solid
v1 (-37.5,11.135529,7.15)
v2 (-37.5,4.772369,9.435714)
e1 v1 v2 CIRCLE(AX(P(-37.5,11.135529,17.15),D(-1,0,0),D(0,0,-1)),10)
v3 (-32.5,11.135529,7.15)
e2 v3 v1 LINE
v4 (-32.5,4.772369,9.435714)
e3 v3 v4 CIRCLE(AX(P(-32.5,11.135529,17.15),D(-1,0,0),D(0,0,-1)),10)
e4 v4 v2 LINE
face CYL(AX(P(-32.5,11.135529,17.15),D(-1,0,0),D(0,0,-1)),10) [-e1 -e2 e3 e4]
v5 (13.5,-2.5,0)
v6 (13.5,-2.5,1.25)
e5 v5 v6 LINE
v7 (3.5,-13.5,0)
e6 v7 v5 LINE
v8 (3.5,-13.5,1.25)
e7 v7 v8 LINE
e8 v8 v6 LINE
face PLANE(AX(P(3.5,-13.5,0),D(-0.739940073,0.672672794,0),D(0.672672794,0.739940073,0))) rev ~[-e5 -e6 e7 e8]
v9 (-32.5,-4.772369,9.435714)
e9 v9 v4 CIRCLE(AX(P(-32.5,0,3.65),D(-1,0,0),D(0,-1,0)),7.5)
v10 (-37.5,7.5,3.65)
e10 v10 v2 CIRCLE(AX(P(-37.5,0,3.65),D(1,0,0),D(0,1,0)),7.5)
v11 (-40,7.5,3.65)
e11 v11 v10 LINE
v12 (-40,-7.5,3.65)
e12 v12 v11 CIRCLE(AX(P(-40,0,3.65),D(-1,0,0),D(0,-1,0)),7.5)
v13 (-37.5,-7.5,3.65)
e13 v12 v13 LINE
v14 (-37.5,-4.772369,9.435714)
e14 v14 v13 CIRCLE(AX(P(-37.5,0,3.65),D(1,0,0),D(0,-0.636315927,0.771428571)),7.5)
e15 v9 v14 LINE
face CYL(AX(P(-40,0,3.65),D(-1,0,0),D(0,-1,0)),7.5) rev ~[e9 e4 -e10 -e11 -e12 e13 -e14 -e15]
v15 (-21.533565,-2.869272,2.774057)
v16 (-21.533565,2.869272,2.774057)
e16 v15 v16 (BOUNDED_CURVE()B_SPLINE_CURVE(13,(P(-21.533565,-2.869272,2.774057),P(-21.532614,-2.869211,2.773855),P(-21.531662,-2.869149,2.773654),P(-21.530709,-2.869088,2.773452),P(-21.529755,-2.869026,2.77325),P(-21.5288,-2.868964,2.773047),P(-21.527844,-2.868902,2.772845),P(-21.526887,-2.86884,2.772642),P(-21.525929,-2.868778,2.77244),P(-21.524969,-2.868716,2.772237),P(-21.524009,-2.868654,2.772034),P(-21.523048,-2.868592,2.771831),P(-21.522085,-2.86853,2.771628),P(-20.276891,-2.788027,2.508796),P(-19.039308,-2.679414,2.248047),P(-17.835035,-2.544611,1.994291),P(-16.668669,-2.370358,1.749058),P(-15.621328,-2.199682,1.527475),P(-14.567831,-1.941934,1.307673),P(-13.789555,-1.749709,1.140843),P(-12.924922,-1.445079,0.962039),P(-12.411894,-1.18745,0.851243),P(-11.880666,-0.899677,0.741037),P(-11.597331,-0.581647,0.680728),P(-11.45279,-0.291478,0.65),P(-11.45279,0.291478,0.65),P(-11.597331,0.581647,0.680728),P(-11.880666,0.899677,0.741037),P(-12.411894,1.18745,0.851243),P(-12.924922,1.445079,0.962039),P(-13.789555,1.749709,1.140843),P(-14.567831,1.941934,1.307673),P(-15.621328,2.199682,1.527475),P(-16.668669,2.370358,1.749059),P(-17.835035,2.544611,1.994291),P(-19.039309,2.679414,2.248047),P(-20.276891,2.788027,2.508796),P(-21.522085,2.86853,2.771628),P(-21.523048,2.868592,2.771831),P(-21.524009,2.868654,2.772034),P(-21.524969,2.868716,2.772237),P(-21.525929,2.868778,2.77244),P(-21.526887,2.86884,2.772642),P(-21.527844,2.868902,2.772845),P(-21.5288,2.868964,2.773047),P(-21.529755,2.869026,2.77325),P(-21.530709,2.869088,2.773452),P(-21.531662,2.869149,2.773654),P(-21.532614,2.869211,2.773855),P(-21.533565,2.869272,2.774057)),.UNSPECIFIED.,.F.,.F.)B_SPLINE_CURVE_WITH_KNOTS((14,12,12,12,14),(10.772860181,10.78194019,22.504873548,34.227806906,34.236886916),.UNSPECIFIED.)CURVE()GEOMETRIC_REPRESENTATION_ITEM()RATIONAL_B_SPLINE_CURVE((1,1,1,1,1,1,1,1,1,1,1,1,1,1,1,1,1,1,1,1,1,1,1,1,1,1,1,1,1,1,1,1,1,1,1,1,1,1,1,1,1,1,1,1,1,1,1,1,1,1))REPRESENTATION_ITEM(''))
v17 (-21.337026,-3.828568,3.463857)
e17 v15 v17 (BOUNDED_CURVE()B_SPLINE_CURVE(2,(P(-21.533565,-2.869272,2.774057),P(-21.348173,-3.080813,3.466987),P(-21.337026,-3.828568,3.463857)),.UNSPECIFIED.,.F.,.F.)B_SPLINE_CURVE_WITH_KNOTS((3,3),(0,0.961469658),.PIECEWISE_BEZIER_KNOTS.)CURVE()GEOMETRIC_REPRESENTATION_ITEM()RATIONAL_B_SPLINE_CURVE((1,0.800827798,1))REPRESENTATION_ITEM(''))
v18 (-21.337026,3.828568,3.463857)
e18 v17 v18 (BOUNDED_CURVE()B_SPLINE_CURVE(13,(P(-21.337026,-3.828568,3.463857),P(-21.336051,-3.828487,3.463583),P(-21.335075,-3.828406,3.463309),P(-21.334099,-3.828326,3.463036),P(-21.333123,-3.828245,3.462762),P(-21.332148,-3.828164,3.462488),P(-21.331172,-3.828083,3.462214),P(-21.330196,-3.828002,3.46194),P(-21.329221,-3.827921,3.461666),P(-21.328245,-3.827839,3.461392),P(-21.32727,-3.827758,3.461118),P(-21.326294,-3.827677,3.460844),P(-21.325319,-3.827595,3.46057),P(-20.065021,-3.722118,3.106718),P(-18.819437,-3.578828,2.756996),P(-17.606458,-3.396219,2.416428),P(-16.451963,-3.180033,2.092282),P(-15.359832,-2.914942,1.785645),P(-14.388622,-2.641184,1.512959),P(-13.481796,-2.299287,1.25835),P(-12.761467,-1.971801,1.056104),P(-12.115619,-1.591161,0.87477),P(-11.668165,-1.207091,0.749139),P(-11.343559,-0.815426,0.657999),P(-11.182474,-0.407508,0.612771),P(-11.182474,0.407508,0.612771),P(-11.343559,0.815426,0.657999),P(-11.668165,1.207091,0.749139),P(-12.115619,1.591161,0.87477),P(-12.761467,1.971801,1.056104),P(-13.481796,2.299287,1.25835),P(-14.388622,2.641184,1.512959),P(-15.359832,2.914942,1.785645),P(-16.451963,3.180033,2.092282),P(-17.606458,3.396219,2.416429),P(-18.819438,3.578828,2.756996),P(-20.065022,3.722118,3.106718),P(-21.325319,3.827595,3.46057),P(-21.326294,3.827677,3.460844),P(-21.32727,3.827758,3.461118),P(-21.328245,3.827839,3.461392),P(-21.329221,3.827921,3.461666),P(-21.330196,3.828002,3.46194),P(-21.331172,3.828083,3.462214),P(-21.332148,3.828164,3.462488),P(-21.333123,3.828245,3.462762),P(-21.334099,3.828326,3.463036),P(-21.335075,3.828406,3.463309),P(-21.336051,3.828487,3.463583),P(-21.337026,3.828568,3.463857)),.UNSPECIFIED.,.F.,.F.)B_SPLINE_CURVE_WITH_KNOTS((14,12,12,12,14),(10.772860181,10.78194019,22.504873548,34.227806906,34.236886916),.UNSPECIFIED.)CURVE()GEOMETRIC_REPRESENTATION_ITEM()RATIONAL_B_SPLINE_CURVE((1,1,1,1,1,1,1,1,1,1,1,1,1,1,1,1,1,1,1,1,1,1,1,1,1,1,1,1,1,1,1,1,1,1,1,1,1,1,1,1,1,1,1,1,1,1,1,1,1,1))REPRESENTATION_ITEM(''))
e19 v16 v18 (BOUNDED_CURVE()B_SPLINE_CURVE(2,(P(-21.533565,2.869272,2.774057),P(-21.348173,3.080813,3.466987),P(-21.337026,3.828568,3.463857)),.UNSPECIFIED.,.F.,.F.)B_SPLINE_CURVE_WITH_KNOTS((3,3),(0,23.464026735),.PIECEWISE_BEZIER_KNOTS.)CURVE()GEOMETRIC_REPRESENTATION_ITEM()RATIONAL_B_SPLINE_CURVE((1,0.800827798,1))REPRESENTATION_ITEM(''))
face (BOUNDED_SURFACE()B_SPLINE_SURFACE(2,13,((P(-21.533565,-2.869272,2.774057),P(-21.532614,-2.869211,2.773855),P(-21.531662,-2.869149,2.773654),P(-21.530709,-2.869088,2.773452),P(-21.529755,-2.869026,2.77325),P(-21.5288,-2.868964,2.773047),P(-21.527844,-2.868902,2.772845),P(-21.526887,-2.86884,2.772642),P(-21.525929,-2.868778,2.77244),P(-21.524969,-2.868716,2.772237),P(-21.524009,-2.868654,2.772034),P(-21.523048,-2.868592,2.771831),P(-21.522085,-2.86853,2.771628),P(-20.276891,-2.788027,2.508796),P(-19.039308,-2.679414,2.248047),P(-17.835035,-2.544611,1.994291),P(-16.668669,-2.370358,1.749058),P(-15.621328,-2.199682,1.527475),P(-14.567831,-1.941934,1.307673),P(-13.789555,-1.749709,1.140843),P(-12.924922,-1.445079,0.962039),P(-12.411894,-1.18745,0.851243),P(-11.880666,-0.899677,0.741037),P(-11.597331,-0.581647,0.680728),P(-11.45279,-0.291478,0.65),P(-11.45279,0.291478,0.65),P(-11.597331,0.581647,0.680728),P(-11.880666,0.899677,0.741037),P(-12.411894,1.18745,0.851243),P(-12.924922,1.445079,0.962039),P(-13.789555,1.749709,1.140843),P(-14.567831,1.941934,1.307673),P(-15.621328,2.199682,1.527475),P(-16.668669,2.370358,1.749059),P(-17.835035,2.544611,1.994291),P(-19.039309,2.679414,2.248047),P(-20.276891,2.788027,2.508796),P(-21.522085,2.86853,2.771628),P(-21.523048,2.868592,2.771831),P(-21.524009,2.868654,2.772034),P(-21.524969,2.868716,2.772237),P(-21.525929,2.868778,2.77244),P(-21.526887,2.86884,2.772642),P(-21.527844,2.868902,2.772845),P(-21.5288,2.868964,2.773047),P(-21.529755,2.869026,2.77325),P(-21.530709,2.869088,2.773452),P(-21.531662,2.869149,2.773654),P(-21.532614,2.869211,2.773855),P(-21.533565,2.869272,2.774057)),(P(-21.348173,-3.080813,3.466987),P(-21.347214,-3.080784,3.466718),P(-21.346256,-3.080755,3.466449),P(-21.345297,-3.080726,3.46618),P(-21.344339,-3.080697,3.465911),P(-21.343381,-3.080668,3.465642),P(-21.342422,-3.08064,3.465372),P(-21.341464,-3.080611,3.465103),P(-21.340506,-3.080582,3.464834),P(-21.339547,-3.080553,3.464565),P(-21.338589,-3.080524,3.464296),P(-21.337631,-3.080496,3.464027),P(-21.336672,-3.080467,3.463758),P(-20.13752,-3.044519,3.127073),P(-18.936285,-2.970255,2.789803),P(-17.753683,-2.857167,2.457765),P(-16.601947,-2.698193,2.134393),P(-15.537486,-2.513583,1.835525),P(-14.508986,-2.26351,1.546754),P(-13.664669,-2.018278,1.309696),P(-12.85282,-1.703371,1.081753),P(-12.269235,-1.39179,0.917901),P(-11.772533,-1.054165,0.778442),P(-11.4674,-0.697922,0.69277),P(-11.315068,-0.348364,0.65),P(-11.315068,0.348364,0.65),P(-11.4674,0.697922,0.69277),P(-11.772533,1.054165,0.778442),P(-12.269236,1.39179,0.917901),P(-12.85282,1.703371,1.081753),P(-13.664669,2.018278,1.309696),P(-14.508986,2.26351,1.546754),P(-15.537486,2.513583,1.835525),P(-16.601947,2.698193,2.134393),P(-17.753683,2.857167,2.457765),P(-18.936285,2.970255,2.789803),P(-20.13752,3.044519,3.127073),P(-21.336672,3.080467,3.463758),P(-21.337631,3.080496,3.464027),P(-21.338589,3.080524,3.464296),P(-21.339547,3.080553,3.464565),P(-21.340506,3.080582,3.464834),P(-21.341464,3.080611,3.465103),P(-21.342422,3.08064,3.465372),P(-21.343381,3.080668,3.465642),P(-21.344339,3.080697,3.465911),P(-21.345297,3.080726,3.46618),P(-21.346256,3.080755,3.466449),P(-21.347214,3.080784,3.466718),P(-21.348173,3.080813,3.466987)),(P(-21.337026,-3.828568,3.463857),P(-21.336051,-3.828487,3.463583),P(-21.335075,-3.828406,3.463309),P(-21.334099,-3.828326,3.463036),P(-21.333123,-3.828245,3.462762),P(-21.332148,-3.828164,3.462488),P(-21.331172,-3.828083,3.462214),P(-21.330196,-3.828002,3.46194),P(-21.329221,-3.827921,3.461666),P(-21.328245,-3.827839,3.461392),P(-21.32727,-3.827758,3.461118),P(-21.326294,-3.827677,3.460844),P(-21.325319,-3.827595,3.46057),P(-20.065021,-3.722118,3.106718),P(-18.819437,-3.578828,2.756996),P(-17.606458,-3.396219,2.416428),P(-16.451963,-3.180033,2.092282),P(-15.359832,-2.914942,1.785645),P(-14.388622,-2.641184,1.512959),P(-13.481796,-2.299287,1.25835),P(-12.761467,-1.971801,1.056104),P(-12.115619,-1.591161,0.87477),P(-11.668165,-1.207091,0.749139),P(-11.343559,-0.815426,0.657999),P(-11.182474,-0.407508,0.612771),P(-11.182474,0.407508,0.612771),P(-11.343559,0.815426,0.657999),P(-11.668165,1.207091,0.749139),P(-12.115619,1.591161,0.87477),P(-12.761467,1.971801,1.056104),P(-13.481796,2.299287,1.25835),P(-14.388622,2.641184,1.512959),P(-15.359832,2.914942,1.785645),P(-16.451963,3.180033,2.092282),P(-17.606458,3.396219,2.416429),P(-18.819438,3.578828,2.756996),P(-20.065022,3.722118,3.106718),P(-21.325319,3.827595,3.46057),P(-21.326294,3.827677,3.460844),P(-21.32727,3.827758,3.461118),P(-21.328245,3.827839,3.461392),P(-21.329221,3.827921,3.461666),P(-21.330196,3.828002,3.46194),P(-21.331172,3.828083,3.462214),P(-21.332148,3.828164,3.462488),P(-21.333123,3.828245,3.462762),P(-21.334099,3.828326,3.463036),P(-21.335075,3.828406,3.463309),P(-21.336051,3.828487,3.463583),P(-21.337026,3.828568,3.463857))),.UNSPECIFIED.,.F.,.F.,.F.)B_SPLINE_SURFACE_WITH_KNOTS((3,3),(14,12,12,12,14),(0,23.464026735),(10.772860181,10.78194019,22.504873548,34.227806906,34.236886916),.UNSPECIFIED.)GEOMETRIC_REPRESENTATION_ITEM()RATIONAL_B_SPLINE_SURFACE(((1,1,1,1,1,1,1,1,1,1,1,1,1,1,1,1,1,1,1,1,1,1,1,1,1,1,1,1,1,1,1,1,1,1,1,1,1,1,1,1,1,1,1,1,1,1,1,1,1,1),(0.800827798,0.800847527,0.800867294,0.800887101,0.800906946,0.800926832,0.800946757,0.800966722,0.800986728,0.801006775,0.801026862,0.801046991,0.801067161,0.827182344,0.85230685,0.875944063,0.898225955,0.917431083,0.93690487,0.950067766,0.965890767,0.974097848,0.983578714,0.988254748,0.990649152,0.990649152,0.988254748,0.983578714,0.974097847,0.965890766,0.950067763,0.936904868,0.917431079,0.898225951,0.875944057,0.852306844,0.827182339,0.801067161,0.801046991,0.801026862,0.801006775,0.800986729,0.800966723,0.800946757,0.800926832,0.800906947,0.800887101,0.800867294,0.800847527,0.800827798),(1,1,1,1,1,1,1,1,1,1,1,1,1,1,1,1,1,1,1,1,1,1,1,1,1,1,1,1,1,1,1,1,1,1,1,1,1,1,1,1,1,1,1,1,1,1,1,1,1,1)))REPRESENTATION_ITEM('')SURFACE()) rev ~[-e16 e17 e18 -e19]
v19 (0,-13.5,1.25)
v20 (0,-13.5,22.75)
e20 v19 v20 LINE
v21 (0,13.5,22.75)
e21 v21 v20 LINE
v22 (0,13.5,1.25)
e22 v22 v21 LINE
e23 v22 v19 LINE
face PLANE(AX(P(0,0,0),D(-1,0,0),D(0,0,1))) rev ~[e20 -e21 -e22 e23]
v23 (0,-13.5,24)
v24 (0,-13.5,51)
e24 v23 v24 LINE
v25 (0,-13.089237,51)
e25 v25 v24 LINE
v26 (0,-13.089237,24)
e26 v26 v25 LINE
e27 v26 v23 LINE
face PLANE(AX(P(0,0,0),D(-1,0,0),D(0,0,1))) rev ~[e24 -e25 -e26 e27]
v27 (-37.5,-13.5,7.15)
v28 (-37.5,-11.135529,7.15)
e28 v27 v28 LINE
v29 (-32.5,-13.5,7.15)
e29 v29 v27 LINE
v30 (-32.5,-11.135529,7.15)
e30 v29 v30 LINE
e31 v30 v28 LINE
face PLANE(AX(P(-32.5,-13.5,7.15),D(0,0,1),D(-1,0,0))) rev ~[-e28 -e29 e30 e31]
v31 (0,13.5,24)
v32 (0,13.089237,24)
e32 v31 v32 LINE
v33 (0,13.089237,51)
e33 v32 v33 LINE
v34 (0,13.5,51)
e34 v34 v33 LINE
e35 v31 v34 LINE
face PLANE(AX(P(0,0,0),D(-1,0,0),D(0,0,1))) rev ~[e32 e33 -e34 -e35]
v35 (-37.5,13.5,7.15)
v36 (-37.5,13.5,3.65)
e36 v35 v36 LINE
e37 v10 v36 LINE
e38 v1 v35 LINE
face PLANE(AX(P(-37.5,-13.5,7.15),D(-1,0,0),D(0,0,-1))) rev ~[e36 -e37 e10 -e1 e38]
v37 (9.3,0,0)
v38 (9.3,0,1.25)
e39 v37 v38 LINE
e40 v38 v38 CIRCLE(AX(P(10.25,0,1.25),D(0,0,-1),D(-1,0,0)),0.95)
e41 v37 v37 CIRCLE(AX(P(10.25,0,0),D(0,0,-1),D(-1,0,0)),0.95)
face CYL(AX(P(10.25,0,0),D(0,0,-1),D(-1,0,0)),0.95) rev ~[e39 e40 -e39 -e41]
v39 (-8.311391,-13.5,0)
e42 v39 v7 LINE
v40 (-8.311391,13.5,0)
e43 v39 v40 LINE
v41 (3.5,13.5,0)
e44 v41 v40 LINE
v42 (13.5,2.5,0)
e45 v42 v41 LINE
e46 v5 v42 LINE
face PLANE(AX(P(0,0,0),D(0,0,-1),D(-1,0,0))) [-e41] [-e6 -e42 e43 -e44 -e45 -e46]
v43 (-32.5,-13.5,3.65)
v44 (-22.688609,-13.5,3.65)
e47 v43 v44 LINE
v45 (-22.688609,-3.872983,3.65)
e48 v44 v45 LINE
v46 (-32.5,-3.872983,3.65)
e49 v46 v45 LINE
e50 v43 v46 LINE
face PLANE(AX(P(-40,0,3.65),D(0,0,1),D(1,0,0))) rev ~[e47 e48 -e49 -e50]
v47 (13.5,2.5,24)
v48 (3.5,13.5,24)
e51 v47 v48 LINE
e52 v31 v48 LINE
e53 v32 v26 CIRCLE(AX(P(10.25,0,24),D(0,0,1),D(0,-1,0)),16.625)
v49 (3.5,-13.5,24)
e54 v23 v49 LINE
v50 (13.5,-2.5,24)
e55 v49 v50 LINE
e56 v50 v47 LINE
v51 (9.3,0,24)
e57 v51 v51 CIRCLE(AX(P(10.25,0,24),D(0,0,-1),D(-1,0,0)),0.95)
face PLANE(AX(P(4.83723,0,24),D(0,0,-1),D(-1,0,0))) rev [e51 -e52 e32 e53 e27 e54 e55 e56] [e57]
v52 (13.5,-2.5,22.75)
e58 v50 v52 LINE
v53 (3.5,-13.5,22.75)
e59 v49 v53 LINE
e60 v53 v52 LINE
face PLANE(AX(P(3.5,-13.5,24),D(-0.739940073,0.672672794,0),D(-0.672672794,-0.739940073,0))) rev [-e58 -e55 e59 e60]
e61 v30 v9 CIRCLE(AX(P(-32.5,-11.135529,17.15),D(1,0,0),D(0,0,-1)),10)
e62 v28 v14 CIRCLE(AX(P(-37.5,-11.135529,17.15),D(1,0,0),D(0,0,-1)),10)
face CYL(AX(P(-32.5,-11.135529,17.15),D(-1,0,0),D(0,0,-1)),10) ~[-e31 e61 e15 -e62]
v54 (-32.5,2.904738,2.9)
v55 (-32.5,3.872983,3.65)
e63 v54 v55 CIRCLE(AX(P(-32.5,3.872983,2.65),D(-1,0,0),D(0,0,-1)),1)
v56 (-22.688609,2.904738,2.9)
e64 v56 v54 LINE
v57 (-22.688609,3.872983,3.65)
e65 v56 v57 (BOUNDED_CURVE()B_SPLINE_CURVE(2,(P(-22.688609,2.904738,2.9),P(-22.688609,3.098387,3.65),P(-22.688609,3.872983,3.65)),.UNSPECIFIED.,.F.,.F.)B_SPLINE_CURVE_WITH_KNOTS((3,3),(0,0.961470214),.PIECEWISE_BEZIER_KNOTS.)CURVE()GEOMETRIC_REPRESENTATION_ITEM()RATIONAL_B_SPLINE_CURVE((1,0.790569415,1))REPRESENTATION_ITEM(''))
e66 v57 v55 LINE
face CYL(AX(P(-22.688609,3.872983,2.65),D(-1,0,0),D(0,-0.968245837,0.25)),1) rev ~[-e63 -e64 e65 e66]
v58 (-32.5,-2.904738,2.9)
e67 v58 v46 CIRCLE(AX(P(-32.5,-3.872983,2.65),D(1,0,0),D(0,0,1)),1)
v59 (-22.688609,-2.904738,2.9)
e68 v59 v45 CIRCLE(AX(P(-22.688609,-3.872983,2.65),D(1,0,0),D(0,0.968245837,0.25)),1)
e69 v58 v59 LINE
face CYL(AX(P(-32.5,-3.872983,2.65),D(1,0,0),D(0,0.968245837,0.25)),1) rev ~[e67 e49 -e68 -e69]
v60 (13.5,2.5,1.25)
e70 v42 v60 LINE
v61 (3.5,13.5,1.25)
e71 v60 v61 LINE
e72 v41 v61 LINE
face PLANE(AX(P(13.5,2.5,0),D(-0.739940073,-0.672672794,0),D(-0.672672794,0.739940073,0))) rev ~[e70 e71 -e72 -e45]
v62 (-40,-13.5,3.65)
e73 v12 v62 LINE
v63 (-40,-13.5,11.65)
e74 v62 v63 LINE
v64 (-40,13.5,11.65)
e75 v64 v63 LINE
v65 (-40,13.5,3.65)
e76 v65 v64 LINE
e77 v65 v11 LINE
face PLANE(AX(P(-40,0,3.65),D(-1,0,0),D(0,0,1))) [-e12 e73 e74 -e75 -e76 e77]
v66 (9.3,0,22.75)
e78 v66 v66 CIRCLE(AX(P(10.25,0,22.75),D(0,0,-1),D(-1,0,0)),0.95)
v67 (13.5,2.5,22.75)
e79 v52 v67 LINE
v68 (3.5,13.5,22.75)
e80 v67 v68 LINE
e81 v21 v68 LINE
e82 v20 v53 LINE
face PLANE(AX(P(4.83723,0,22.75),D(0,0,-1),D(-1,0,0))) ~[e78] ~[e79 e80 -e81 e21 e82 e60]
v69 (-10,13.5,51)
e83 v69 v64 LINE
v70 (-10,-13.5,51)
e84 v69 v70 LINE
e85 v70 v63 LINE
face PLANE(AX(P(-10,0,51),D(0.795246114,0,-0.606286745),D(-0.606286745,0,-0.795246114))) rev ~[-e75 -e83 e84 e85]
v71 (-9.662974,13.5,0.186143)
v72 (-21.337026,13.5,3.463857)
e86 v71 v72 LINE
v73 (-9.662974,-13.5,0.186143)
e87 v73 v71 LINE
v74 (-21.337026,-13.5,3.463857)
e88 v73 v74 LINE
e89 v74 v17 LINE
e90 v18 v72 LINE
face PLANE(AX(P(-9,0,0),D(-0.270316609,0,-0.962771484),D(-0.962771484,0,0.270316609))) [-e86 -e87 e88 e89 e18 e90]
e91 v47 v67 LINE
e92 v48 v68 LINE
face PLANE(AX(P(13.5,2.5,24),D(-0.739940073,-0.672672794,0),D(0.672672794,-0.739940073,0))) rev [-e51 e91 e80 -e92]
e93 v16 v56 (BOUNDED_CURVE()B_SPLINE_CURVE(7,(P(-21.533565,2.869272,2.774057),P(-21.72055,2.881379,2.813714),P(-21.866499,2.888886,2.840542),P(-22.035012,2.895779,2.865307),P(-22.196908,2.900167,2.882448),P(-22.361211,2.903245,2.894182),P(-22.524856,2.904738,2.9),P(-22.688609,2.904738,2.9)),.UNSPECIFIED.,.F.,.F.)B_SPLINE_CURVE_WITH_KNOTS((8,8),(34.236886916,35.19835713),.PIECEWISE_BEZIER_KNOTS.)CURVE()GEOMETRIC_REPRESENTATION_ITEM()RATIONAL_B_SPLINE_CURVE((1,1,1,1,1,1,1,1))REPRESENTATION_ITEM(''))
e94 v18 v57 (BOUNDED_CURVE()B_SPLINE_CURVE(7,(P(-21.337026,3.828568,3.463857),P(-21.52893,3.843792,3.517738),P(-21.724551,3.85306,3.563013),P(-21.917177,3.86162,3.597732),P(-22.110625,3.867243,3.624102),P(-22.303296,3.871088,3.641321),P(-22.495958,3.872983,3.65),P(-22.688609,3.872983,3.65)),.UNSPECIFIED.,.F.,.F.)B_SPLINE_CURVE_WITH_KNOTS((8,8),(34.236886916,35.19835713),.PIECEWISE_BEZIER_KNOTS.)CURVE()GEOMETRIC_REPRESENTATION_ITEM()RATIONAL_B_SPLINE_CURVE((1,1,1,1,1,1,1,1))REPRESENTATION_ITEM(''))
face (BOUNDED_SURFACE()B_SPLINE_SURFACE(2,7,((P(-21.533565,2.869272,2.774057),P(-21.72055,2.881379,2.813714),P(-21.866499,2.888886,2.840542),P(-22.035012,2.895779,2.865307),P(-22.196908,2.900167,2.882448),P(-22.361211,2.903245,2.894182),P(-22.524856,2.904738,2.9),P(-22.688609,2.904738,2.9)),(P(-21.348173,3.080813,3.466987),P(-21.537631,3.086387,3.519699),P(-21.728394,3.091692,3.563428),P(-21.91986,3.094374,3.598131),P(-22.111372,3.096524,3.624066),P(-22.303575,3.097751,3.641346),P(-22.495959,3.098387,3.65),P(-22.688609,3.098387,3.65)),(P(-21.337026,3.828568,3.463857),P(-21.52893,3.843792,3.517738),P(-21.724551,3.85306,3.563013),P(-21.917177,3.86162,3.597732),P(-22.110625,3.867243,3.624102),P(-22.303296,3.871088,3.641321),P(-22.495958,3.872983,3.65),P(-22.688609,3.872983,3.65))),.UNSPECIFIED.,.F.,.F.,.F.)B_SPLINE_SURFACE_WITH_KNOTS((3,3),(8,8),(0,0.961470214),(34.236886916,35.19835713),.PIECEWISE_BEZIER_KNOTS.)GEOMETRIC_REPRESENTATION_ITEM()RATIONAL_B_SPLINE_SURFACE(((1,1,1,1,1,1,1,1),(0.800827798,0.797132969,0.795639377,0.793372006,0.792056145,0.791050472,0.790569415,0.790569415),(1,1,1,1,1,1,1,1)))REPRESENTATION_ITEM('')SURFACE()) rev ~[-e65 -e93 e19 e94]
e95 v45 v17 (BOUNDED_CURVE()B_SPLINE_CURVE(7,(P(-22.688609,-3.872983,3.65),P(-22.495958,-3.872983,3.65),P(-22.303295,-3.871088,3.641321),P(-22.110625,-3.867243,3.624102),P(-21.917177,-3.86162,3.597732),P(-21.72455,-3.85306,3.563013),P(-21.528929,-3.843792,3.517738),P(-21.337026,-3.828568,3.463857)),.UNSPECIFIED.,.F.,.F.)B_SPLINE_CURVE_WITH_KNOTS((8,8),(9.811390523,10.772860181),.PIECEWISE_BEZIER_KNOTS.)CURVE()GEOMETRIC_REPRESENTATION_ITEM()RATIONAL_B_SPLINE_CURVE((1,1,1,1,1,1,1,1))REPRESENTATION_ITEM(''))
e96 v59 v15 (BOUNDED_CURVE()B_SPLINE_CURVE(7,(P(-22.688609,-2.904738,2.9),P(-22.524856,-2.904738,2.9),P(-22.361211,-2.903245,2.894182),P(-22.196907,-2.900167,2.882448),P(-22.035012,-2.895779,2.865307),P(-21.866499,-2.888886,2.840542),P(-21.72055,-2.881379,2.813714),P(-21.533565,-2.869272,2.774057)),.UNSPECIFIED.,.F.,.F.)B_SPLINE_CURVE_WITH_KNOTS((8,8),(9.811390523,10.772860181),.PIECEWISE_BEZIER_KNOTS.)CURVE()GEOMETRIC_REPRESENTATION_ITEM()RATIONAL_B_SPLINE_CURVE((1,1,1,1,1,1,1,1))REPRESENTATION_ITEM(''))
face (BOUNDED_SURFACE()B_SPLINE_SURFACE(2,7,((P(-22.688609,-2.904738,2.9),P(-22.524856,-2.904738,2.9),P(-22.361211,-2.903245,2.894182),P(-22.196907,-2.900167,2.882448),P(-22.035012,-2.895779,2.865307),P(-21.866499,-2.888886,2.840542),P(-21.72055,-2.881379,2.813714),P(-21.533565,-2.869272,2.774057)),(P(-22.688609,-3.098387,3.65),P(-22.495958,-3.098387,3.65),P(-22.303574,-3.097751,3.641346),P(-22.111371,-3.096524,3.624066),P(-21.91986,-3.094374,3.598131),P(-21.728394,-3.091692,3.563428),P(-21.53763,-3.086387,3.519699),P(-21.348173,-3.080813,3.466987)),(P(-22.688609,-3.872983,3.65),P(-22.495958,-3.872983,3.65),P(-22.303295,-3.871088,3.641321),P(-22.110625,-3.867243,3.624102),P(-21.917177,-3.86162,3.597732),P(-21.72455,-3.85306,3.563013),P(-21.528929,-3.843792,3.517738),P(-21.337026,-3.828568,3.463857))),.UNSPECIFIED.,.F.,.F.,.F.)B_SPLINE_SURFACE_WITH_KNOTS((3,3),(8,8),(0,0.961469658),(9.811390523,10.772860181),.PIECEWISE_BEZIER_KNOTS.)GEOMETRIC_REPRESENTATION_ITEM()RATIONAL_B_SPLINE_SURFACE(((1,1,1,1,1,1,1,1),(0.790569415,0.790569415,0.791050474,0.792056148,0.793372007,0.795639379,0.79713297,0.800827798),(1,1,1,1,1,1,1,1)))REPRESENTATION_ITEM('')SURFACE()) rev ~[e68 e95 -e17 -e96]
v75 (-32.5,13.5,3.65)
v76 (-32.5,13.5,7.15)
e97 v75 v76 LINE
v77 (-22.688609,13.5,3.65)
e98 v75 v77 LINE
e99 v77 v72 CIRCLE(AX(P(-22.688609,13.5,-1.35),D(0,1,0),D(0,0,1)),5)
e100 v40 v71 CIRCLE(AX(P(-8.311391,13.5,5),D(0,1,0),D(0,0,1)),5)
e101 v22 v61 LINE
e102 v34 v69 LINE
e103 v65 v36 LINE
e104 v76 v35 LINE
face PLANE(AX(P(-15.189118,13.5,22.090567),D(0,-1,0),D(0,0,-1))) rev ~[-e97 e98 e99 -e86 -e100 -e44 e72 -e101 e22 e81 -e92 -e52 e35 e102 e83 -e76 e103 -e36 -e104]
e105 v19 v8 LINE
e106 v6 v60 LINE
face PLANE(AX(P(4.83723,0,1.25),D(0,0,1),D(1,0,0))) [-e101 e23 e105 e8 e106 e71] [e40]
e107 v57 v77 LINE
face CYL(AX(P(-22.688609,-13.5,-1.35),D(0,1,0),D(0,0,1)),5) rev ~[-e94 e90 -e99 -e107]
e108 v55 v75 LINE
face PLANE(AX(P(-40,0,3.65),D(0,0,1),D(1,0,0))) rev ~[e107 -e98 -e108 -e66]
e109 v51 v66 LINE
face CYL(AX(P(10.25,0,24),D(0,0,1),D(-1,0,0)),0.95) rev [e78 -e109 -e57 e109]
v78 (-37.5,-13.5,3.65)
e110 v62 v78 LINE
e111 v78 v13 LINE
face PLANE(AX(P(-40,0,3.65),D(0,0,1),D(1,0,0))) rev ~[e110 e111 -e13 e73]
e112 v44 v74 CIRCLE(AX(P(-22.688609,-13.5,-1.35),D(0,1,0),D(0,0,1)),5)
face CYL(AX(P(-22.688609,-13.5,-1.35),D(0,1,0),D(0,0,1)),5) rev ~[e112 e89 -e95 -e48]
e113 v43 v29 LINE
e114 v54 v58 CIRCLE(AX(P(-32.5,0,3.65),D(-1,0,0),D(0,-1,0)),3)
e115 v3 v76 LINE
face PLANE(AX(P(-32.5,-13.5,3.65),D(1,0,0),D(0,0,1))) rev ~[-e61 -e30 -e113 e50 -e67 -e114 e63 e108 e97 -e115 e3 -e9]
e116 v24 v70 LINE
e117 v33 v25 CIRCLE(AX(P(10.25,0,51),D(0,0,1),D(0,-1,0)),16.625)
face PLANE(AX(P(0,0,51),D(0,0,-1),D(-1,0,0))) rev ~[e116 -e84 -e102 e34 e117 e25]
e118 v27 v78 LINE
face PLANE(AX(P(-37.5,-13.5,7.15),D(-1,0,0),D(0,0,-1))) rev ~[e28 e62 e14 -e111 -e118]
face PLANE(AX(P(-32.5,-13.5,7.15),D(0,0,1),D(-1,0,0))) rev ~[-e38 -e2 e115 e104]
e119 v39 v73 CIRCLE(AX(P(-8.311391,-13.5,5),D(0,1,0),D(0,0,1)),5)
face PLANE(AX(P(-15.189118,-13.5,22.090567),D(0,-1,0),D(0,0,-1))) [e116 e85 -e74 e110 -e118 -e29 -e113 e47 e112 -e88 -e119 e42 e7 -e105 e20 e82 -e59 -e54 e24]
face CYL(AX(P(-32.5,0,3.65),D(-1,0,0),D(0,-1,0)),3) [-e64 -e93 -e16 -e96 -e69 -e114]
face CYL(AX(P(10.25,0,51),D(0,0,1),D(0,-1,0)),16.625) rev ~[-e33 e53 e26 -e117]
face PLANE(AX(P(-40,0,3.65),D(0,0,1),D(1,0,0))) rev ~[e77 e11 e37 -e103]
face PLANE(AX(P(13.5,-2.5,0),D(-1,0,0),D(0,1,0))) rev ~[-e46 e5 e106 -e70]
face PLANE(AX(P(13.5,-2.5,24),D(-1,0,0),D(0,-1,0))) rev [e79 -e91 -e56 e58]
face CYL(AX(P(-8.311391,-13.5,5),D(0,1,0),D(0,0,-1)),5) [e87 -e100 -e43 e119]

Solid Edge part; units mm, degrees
sketch "Sketch1" plane through (0, 0, 0) normal (0, -1, 0) x (1, 0, 0)
  line L0 (0, 0) -> (0, 51)
  line L1 (0, 51) -> (-10, 51)
  line L2 (-10, 51) -> (-40, 11.65)
  line L3 (-40, 3.65) -> (-40, 11.65)
  line L4 (-40, 3.65) -> (-22, 3.65)
  line L5 (-9, 0) -> (-22, 3.65)
  line L6 (0, 0) -> (-9, 0)
extrude "Protrusion1" add sketch "Sketch1" along normal mid plane 27
sketch "Sketch2" plane through (-5, 0, 51) normal (0, 0, 1) x (0, -1, 0)
  circle A0 centre (0, 15.25) radius 16.625
extrude "ExtrudedCutout_1" cut sketch "Sketch2" against normal blind 27
sketch "Sketch3" plane through (-20, -13.5, 25.5) normal (0, -1, 0) x (1, 0, 0)
  line L0 (-17.5, -21.85) -> (-12.5, -21.85)
  line L1 (-12.5, -21.85) -> (-12.5, -18.35)
  line L2 (-12.5, -18.35) -> (-17.5, -18.35)
  line L3 (-17.5, -18.35) -> (-17.5, -21.85)
extrude "Cutout1" cut sketch "Sketch3" against normal through all
sketch "Sketch4" plane through (-40, 0, 7.65) normal (-1, 0, 0) x (0, -1, 0)
  arc A0 (7.5, -4) -> (-7.5, -4) centre (0, -4) ccw
extrude "Cutout2" cut sketch "Sketch4" against normal up to surface (7.5 mm away) material side at (-40, 0, 11.1)
fillet "Round_1" radius 10 2 edges at (-35, -6.6332, 7.15) (-35, 6.6332, 7.15)
sketch "Sketch5" plane through (0, 0, 0) normal (0, 0, -1) x (-1, 0, 0)
  line L0 (0, 13.5) -> (0, -13.5)
  line L1 (0, -13.5) -> (-3.5, -13.5)
  line L2 (-3.5, -13.5) -> (-13.5, -2.5)
  line L3 (-13.5, -2.5) -> (-13.5, 2.5)
  line L4 (-13.5, 2.5) -> (-3.5, 13.5)
  line L5 (0, 13.5) -> (-3.5, 13.5)
  circle A0 centre (-10.25, 0) radius 0.95
extrude "ExtrudedProtrusion_2" add sketch "Sketch5" against normal blind 1.25
mirror "Mirror1" about plane through (2.25, 0, 12) normal (0, 0, -1) of "ExtrudedProtrusion_2"
fillet "Round_2" radius 5 2 edges at (-22, 0, 3.65) (-9, 0, 0)
sketch "Sketch6" plane through (-32.5, 0, 7.4) normal (-1, 0, 0) x (0, -1, 0)
  circle A0 centre (0, -3.75) radius 3
extrude "Protrusion3" add sketch "Sketch6" against normal up to vertex (22.837 mm away)
fillet "Round_3" radius 1 5 edges at (-27.5943, -3, 3.65) (-22.0064, -2.9996, 3.6032) (-11.3151, 0, 0.65) (-22.0064, 2.9996, 3.6032) (-27.5943, 3, 3.65)
properties material "Stainless Steel, 420"
